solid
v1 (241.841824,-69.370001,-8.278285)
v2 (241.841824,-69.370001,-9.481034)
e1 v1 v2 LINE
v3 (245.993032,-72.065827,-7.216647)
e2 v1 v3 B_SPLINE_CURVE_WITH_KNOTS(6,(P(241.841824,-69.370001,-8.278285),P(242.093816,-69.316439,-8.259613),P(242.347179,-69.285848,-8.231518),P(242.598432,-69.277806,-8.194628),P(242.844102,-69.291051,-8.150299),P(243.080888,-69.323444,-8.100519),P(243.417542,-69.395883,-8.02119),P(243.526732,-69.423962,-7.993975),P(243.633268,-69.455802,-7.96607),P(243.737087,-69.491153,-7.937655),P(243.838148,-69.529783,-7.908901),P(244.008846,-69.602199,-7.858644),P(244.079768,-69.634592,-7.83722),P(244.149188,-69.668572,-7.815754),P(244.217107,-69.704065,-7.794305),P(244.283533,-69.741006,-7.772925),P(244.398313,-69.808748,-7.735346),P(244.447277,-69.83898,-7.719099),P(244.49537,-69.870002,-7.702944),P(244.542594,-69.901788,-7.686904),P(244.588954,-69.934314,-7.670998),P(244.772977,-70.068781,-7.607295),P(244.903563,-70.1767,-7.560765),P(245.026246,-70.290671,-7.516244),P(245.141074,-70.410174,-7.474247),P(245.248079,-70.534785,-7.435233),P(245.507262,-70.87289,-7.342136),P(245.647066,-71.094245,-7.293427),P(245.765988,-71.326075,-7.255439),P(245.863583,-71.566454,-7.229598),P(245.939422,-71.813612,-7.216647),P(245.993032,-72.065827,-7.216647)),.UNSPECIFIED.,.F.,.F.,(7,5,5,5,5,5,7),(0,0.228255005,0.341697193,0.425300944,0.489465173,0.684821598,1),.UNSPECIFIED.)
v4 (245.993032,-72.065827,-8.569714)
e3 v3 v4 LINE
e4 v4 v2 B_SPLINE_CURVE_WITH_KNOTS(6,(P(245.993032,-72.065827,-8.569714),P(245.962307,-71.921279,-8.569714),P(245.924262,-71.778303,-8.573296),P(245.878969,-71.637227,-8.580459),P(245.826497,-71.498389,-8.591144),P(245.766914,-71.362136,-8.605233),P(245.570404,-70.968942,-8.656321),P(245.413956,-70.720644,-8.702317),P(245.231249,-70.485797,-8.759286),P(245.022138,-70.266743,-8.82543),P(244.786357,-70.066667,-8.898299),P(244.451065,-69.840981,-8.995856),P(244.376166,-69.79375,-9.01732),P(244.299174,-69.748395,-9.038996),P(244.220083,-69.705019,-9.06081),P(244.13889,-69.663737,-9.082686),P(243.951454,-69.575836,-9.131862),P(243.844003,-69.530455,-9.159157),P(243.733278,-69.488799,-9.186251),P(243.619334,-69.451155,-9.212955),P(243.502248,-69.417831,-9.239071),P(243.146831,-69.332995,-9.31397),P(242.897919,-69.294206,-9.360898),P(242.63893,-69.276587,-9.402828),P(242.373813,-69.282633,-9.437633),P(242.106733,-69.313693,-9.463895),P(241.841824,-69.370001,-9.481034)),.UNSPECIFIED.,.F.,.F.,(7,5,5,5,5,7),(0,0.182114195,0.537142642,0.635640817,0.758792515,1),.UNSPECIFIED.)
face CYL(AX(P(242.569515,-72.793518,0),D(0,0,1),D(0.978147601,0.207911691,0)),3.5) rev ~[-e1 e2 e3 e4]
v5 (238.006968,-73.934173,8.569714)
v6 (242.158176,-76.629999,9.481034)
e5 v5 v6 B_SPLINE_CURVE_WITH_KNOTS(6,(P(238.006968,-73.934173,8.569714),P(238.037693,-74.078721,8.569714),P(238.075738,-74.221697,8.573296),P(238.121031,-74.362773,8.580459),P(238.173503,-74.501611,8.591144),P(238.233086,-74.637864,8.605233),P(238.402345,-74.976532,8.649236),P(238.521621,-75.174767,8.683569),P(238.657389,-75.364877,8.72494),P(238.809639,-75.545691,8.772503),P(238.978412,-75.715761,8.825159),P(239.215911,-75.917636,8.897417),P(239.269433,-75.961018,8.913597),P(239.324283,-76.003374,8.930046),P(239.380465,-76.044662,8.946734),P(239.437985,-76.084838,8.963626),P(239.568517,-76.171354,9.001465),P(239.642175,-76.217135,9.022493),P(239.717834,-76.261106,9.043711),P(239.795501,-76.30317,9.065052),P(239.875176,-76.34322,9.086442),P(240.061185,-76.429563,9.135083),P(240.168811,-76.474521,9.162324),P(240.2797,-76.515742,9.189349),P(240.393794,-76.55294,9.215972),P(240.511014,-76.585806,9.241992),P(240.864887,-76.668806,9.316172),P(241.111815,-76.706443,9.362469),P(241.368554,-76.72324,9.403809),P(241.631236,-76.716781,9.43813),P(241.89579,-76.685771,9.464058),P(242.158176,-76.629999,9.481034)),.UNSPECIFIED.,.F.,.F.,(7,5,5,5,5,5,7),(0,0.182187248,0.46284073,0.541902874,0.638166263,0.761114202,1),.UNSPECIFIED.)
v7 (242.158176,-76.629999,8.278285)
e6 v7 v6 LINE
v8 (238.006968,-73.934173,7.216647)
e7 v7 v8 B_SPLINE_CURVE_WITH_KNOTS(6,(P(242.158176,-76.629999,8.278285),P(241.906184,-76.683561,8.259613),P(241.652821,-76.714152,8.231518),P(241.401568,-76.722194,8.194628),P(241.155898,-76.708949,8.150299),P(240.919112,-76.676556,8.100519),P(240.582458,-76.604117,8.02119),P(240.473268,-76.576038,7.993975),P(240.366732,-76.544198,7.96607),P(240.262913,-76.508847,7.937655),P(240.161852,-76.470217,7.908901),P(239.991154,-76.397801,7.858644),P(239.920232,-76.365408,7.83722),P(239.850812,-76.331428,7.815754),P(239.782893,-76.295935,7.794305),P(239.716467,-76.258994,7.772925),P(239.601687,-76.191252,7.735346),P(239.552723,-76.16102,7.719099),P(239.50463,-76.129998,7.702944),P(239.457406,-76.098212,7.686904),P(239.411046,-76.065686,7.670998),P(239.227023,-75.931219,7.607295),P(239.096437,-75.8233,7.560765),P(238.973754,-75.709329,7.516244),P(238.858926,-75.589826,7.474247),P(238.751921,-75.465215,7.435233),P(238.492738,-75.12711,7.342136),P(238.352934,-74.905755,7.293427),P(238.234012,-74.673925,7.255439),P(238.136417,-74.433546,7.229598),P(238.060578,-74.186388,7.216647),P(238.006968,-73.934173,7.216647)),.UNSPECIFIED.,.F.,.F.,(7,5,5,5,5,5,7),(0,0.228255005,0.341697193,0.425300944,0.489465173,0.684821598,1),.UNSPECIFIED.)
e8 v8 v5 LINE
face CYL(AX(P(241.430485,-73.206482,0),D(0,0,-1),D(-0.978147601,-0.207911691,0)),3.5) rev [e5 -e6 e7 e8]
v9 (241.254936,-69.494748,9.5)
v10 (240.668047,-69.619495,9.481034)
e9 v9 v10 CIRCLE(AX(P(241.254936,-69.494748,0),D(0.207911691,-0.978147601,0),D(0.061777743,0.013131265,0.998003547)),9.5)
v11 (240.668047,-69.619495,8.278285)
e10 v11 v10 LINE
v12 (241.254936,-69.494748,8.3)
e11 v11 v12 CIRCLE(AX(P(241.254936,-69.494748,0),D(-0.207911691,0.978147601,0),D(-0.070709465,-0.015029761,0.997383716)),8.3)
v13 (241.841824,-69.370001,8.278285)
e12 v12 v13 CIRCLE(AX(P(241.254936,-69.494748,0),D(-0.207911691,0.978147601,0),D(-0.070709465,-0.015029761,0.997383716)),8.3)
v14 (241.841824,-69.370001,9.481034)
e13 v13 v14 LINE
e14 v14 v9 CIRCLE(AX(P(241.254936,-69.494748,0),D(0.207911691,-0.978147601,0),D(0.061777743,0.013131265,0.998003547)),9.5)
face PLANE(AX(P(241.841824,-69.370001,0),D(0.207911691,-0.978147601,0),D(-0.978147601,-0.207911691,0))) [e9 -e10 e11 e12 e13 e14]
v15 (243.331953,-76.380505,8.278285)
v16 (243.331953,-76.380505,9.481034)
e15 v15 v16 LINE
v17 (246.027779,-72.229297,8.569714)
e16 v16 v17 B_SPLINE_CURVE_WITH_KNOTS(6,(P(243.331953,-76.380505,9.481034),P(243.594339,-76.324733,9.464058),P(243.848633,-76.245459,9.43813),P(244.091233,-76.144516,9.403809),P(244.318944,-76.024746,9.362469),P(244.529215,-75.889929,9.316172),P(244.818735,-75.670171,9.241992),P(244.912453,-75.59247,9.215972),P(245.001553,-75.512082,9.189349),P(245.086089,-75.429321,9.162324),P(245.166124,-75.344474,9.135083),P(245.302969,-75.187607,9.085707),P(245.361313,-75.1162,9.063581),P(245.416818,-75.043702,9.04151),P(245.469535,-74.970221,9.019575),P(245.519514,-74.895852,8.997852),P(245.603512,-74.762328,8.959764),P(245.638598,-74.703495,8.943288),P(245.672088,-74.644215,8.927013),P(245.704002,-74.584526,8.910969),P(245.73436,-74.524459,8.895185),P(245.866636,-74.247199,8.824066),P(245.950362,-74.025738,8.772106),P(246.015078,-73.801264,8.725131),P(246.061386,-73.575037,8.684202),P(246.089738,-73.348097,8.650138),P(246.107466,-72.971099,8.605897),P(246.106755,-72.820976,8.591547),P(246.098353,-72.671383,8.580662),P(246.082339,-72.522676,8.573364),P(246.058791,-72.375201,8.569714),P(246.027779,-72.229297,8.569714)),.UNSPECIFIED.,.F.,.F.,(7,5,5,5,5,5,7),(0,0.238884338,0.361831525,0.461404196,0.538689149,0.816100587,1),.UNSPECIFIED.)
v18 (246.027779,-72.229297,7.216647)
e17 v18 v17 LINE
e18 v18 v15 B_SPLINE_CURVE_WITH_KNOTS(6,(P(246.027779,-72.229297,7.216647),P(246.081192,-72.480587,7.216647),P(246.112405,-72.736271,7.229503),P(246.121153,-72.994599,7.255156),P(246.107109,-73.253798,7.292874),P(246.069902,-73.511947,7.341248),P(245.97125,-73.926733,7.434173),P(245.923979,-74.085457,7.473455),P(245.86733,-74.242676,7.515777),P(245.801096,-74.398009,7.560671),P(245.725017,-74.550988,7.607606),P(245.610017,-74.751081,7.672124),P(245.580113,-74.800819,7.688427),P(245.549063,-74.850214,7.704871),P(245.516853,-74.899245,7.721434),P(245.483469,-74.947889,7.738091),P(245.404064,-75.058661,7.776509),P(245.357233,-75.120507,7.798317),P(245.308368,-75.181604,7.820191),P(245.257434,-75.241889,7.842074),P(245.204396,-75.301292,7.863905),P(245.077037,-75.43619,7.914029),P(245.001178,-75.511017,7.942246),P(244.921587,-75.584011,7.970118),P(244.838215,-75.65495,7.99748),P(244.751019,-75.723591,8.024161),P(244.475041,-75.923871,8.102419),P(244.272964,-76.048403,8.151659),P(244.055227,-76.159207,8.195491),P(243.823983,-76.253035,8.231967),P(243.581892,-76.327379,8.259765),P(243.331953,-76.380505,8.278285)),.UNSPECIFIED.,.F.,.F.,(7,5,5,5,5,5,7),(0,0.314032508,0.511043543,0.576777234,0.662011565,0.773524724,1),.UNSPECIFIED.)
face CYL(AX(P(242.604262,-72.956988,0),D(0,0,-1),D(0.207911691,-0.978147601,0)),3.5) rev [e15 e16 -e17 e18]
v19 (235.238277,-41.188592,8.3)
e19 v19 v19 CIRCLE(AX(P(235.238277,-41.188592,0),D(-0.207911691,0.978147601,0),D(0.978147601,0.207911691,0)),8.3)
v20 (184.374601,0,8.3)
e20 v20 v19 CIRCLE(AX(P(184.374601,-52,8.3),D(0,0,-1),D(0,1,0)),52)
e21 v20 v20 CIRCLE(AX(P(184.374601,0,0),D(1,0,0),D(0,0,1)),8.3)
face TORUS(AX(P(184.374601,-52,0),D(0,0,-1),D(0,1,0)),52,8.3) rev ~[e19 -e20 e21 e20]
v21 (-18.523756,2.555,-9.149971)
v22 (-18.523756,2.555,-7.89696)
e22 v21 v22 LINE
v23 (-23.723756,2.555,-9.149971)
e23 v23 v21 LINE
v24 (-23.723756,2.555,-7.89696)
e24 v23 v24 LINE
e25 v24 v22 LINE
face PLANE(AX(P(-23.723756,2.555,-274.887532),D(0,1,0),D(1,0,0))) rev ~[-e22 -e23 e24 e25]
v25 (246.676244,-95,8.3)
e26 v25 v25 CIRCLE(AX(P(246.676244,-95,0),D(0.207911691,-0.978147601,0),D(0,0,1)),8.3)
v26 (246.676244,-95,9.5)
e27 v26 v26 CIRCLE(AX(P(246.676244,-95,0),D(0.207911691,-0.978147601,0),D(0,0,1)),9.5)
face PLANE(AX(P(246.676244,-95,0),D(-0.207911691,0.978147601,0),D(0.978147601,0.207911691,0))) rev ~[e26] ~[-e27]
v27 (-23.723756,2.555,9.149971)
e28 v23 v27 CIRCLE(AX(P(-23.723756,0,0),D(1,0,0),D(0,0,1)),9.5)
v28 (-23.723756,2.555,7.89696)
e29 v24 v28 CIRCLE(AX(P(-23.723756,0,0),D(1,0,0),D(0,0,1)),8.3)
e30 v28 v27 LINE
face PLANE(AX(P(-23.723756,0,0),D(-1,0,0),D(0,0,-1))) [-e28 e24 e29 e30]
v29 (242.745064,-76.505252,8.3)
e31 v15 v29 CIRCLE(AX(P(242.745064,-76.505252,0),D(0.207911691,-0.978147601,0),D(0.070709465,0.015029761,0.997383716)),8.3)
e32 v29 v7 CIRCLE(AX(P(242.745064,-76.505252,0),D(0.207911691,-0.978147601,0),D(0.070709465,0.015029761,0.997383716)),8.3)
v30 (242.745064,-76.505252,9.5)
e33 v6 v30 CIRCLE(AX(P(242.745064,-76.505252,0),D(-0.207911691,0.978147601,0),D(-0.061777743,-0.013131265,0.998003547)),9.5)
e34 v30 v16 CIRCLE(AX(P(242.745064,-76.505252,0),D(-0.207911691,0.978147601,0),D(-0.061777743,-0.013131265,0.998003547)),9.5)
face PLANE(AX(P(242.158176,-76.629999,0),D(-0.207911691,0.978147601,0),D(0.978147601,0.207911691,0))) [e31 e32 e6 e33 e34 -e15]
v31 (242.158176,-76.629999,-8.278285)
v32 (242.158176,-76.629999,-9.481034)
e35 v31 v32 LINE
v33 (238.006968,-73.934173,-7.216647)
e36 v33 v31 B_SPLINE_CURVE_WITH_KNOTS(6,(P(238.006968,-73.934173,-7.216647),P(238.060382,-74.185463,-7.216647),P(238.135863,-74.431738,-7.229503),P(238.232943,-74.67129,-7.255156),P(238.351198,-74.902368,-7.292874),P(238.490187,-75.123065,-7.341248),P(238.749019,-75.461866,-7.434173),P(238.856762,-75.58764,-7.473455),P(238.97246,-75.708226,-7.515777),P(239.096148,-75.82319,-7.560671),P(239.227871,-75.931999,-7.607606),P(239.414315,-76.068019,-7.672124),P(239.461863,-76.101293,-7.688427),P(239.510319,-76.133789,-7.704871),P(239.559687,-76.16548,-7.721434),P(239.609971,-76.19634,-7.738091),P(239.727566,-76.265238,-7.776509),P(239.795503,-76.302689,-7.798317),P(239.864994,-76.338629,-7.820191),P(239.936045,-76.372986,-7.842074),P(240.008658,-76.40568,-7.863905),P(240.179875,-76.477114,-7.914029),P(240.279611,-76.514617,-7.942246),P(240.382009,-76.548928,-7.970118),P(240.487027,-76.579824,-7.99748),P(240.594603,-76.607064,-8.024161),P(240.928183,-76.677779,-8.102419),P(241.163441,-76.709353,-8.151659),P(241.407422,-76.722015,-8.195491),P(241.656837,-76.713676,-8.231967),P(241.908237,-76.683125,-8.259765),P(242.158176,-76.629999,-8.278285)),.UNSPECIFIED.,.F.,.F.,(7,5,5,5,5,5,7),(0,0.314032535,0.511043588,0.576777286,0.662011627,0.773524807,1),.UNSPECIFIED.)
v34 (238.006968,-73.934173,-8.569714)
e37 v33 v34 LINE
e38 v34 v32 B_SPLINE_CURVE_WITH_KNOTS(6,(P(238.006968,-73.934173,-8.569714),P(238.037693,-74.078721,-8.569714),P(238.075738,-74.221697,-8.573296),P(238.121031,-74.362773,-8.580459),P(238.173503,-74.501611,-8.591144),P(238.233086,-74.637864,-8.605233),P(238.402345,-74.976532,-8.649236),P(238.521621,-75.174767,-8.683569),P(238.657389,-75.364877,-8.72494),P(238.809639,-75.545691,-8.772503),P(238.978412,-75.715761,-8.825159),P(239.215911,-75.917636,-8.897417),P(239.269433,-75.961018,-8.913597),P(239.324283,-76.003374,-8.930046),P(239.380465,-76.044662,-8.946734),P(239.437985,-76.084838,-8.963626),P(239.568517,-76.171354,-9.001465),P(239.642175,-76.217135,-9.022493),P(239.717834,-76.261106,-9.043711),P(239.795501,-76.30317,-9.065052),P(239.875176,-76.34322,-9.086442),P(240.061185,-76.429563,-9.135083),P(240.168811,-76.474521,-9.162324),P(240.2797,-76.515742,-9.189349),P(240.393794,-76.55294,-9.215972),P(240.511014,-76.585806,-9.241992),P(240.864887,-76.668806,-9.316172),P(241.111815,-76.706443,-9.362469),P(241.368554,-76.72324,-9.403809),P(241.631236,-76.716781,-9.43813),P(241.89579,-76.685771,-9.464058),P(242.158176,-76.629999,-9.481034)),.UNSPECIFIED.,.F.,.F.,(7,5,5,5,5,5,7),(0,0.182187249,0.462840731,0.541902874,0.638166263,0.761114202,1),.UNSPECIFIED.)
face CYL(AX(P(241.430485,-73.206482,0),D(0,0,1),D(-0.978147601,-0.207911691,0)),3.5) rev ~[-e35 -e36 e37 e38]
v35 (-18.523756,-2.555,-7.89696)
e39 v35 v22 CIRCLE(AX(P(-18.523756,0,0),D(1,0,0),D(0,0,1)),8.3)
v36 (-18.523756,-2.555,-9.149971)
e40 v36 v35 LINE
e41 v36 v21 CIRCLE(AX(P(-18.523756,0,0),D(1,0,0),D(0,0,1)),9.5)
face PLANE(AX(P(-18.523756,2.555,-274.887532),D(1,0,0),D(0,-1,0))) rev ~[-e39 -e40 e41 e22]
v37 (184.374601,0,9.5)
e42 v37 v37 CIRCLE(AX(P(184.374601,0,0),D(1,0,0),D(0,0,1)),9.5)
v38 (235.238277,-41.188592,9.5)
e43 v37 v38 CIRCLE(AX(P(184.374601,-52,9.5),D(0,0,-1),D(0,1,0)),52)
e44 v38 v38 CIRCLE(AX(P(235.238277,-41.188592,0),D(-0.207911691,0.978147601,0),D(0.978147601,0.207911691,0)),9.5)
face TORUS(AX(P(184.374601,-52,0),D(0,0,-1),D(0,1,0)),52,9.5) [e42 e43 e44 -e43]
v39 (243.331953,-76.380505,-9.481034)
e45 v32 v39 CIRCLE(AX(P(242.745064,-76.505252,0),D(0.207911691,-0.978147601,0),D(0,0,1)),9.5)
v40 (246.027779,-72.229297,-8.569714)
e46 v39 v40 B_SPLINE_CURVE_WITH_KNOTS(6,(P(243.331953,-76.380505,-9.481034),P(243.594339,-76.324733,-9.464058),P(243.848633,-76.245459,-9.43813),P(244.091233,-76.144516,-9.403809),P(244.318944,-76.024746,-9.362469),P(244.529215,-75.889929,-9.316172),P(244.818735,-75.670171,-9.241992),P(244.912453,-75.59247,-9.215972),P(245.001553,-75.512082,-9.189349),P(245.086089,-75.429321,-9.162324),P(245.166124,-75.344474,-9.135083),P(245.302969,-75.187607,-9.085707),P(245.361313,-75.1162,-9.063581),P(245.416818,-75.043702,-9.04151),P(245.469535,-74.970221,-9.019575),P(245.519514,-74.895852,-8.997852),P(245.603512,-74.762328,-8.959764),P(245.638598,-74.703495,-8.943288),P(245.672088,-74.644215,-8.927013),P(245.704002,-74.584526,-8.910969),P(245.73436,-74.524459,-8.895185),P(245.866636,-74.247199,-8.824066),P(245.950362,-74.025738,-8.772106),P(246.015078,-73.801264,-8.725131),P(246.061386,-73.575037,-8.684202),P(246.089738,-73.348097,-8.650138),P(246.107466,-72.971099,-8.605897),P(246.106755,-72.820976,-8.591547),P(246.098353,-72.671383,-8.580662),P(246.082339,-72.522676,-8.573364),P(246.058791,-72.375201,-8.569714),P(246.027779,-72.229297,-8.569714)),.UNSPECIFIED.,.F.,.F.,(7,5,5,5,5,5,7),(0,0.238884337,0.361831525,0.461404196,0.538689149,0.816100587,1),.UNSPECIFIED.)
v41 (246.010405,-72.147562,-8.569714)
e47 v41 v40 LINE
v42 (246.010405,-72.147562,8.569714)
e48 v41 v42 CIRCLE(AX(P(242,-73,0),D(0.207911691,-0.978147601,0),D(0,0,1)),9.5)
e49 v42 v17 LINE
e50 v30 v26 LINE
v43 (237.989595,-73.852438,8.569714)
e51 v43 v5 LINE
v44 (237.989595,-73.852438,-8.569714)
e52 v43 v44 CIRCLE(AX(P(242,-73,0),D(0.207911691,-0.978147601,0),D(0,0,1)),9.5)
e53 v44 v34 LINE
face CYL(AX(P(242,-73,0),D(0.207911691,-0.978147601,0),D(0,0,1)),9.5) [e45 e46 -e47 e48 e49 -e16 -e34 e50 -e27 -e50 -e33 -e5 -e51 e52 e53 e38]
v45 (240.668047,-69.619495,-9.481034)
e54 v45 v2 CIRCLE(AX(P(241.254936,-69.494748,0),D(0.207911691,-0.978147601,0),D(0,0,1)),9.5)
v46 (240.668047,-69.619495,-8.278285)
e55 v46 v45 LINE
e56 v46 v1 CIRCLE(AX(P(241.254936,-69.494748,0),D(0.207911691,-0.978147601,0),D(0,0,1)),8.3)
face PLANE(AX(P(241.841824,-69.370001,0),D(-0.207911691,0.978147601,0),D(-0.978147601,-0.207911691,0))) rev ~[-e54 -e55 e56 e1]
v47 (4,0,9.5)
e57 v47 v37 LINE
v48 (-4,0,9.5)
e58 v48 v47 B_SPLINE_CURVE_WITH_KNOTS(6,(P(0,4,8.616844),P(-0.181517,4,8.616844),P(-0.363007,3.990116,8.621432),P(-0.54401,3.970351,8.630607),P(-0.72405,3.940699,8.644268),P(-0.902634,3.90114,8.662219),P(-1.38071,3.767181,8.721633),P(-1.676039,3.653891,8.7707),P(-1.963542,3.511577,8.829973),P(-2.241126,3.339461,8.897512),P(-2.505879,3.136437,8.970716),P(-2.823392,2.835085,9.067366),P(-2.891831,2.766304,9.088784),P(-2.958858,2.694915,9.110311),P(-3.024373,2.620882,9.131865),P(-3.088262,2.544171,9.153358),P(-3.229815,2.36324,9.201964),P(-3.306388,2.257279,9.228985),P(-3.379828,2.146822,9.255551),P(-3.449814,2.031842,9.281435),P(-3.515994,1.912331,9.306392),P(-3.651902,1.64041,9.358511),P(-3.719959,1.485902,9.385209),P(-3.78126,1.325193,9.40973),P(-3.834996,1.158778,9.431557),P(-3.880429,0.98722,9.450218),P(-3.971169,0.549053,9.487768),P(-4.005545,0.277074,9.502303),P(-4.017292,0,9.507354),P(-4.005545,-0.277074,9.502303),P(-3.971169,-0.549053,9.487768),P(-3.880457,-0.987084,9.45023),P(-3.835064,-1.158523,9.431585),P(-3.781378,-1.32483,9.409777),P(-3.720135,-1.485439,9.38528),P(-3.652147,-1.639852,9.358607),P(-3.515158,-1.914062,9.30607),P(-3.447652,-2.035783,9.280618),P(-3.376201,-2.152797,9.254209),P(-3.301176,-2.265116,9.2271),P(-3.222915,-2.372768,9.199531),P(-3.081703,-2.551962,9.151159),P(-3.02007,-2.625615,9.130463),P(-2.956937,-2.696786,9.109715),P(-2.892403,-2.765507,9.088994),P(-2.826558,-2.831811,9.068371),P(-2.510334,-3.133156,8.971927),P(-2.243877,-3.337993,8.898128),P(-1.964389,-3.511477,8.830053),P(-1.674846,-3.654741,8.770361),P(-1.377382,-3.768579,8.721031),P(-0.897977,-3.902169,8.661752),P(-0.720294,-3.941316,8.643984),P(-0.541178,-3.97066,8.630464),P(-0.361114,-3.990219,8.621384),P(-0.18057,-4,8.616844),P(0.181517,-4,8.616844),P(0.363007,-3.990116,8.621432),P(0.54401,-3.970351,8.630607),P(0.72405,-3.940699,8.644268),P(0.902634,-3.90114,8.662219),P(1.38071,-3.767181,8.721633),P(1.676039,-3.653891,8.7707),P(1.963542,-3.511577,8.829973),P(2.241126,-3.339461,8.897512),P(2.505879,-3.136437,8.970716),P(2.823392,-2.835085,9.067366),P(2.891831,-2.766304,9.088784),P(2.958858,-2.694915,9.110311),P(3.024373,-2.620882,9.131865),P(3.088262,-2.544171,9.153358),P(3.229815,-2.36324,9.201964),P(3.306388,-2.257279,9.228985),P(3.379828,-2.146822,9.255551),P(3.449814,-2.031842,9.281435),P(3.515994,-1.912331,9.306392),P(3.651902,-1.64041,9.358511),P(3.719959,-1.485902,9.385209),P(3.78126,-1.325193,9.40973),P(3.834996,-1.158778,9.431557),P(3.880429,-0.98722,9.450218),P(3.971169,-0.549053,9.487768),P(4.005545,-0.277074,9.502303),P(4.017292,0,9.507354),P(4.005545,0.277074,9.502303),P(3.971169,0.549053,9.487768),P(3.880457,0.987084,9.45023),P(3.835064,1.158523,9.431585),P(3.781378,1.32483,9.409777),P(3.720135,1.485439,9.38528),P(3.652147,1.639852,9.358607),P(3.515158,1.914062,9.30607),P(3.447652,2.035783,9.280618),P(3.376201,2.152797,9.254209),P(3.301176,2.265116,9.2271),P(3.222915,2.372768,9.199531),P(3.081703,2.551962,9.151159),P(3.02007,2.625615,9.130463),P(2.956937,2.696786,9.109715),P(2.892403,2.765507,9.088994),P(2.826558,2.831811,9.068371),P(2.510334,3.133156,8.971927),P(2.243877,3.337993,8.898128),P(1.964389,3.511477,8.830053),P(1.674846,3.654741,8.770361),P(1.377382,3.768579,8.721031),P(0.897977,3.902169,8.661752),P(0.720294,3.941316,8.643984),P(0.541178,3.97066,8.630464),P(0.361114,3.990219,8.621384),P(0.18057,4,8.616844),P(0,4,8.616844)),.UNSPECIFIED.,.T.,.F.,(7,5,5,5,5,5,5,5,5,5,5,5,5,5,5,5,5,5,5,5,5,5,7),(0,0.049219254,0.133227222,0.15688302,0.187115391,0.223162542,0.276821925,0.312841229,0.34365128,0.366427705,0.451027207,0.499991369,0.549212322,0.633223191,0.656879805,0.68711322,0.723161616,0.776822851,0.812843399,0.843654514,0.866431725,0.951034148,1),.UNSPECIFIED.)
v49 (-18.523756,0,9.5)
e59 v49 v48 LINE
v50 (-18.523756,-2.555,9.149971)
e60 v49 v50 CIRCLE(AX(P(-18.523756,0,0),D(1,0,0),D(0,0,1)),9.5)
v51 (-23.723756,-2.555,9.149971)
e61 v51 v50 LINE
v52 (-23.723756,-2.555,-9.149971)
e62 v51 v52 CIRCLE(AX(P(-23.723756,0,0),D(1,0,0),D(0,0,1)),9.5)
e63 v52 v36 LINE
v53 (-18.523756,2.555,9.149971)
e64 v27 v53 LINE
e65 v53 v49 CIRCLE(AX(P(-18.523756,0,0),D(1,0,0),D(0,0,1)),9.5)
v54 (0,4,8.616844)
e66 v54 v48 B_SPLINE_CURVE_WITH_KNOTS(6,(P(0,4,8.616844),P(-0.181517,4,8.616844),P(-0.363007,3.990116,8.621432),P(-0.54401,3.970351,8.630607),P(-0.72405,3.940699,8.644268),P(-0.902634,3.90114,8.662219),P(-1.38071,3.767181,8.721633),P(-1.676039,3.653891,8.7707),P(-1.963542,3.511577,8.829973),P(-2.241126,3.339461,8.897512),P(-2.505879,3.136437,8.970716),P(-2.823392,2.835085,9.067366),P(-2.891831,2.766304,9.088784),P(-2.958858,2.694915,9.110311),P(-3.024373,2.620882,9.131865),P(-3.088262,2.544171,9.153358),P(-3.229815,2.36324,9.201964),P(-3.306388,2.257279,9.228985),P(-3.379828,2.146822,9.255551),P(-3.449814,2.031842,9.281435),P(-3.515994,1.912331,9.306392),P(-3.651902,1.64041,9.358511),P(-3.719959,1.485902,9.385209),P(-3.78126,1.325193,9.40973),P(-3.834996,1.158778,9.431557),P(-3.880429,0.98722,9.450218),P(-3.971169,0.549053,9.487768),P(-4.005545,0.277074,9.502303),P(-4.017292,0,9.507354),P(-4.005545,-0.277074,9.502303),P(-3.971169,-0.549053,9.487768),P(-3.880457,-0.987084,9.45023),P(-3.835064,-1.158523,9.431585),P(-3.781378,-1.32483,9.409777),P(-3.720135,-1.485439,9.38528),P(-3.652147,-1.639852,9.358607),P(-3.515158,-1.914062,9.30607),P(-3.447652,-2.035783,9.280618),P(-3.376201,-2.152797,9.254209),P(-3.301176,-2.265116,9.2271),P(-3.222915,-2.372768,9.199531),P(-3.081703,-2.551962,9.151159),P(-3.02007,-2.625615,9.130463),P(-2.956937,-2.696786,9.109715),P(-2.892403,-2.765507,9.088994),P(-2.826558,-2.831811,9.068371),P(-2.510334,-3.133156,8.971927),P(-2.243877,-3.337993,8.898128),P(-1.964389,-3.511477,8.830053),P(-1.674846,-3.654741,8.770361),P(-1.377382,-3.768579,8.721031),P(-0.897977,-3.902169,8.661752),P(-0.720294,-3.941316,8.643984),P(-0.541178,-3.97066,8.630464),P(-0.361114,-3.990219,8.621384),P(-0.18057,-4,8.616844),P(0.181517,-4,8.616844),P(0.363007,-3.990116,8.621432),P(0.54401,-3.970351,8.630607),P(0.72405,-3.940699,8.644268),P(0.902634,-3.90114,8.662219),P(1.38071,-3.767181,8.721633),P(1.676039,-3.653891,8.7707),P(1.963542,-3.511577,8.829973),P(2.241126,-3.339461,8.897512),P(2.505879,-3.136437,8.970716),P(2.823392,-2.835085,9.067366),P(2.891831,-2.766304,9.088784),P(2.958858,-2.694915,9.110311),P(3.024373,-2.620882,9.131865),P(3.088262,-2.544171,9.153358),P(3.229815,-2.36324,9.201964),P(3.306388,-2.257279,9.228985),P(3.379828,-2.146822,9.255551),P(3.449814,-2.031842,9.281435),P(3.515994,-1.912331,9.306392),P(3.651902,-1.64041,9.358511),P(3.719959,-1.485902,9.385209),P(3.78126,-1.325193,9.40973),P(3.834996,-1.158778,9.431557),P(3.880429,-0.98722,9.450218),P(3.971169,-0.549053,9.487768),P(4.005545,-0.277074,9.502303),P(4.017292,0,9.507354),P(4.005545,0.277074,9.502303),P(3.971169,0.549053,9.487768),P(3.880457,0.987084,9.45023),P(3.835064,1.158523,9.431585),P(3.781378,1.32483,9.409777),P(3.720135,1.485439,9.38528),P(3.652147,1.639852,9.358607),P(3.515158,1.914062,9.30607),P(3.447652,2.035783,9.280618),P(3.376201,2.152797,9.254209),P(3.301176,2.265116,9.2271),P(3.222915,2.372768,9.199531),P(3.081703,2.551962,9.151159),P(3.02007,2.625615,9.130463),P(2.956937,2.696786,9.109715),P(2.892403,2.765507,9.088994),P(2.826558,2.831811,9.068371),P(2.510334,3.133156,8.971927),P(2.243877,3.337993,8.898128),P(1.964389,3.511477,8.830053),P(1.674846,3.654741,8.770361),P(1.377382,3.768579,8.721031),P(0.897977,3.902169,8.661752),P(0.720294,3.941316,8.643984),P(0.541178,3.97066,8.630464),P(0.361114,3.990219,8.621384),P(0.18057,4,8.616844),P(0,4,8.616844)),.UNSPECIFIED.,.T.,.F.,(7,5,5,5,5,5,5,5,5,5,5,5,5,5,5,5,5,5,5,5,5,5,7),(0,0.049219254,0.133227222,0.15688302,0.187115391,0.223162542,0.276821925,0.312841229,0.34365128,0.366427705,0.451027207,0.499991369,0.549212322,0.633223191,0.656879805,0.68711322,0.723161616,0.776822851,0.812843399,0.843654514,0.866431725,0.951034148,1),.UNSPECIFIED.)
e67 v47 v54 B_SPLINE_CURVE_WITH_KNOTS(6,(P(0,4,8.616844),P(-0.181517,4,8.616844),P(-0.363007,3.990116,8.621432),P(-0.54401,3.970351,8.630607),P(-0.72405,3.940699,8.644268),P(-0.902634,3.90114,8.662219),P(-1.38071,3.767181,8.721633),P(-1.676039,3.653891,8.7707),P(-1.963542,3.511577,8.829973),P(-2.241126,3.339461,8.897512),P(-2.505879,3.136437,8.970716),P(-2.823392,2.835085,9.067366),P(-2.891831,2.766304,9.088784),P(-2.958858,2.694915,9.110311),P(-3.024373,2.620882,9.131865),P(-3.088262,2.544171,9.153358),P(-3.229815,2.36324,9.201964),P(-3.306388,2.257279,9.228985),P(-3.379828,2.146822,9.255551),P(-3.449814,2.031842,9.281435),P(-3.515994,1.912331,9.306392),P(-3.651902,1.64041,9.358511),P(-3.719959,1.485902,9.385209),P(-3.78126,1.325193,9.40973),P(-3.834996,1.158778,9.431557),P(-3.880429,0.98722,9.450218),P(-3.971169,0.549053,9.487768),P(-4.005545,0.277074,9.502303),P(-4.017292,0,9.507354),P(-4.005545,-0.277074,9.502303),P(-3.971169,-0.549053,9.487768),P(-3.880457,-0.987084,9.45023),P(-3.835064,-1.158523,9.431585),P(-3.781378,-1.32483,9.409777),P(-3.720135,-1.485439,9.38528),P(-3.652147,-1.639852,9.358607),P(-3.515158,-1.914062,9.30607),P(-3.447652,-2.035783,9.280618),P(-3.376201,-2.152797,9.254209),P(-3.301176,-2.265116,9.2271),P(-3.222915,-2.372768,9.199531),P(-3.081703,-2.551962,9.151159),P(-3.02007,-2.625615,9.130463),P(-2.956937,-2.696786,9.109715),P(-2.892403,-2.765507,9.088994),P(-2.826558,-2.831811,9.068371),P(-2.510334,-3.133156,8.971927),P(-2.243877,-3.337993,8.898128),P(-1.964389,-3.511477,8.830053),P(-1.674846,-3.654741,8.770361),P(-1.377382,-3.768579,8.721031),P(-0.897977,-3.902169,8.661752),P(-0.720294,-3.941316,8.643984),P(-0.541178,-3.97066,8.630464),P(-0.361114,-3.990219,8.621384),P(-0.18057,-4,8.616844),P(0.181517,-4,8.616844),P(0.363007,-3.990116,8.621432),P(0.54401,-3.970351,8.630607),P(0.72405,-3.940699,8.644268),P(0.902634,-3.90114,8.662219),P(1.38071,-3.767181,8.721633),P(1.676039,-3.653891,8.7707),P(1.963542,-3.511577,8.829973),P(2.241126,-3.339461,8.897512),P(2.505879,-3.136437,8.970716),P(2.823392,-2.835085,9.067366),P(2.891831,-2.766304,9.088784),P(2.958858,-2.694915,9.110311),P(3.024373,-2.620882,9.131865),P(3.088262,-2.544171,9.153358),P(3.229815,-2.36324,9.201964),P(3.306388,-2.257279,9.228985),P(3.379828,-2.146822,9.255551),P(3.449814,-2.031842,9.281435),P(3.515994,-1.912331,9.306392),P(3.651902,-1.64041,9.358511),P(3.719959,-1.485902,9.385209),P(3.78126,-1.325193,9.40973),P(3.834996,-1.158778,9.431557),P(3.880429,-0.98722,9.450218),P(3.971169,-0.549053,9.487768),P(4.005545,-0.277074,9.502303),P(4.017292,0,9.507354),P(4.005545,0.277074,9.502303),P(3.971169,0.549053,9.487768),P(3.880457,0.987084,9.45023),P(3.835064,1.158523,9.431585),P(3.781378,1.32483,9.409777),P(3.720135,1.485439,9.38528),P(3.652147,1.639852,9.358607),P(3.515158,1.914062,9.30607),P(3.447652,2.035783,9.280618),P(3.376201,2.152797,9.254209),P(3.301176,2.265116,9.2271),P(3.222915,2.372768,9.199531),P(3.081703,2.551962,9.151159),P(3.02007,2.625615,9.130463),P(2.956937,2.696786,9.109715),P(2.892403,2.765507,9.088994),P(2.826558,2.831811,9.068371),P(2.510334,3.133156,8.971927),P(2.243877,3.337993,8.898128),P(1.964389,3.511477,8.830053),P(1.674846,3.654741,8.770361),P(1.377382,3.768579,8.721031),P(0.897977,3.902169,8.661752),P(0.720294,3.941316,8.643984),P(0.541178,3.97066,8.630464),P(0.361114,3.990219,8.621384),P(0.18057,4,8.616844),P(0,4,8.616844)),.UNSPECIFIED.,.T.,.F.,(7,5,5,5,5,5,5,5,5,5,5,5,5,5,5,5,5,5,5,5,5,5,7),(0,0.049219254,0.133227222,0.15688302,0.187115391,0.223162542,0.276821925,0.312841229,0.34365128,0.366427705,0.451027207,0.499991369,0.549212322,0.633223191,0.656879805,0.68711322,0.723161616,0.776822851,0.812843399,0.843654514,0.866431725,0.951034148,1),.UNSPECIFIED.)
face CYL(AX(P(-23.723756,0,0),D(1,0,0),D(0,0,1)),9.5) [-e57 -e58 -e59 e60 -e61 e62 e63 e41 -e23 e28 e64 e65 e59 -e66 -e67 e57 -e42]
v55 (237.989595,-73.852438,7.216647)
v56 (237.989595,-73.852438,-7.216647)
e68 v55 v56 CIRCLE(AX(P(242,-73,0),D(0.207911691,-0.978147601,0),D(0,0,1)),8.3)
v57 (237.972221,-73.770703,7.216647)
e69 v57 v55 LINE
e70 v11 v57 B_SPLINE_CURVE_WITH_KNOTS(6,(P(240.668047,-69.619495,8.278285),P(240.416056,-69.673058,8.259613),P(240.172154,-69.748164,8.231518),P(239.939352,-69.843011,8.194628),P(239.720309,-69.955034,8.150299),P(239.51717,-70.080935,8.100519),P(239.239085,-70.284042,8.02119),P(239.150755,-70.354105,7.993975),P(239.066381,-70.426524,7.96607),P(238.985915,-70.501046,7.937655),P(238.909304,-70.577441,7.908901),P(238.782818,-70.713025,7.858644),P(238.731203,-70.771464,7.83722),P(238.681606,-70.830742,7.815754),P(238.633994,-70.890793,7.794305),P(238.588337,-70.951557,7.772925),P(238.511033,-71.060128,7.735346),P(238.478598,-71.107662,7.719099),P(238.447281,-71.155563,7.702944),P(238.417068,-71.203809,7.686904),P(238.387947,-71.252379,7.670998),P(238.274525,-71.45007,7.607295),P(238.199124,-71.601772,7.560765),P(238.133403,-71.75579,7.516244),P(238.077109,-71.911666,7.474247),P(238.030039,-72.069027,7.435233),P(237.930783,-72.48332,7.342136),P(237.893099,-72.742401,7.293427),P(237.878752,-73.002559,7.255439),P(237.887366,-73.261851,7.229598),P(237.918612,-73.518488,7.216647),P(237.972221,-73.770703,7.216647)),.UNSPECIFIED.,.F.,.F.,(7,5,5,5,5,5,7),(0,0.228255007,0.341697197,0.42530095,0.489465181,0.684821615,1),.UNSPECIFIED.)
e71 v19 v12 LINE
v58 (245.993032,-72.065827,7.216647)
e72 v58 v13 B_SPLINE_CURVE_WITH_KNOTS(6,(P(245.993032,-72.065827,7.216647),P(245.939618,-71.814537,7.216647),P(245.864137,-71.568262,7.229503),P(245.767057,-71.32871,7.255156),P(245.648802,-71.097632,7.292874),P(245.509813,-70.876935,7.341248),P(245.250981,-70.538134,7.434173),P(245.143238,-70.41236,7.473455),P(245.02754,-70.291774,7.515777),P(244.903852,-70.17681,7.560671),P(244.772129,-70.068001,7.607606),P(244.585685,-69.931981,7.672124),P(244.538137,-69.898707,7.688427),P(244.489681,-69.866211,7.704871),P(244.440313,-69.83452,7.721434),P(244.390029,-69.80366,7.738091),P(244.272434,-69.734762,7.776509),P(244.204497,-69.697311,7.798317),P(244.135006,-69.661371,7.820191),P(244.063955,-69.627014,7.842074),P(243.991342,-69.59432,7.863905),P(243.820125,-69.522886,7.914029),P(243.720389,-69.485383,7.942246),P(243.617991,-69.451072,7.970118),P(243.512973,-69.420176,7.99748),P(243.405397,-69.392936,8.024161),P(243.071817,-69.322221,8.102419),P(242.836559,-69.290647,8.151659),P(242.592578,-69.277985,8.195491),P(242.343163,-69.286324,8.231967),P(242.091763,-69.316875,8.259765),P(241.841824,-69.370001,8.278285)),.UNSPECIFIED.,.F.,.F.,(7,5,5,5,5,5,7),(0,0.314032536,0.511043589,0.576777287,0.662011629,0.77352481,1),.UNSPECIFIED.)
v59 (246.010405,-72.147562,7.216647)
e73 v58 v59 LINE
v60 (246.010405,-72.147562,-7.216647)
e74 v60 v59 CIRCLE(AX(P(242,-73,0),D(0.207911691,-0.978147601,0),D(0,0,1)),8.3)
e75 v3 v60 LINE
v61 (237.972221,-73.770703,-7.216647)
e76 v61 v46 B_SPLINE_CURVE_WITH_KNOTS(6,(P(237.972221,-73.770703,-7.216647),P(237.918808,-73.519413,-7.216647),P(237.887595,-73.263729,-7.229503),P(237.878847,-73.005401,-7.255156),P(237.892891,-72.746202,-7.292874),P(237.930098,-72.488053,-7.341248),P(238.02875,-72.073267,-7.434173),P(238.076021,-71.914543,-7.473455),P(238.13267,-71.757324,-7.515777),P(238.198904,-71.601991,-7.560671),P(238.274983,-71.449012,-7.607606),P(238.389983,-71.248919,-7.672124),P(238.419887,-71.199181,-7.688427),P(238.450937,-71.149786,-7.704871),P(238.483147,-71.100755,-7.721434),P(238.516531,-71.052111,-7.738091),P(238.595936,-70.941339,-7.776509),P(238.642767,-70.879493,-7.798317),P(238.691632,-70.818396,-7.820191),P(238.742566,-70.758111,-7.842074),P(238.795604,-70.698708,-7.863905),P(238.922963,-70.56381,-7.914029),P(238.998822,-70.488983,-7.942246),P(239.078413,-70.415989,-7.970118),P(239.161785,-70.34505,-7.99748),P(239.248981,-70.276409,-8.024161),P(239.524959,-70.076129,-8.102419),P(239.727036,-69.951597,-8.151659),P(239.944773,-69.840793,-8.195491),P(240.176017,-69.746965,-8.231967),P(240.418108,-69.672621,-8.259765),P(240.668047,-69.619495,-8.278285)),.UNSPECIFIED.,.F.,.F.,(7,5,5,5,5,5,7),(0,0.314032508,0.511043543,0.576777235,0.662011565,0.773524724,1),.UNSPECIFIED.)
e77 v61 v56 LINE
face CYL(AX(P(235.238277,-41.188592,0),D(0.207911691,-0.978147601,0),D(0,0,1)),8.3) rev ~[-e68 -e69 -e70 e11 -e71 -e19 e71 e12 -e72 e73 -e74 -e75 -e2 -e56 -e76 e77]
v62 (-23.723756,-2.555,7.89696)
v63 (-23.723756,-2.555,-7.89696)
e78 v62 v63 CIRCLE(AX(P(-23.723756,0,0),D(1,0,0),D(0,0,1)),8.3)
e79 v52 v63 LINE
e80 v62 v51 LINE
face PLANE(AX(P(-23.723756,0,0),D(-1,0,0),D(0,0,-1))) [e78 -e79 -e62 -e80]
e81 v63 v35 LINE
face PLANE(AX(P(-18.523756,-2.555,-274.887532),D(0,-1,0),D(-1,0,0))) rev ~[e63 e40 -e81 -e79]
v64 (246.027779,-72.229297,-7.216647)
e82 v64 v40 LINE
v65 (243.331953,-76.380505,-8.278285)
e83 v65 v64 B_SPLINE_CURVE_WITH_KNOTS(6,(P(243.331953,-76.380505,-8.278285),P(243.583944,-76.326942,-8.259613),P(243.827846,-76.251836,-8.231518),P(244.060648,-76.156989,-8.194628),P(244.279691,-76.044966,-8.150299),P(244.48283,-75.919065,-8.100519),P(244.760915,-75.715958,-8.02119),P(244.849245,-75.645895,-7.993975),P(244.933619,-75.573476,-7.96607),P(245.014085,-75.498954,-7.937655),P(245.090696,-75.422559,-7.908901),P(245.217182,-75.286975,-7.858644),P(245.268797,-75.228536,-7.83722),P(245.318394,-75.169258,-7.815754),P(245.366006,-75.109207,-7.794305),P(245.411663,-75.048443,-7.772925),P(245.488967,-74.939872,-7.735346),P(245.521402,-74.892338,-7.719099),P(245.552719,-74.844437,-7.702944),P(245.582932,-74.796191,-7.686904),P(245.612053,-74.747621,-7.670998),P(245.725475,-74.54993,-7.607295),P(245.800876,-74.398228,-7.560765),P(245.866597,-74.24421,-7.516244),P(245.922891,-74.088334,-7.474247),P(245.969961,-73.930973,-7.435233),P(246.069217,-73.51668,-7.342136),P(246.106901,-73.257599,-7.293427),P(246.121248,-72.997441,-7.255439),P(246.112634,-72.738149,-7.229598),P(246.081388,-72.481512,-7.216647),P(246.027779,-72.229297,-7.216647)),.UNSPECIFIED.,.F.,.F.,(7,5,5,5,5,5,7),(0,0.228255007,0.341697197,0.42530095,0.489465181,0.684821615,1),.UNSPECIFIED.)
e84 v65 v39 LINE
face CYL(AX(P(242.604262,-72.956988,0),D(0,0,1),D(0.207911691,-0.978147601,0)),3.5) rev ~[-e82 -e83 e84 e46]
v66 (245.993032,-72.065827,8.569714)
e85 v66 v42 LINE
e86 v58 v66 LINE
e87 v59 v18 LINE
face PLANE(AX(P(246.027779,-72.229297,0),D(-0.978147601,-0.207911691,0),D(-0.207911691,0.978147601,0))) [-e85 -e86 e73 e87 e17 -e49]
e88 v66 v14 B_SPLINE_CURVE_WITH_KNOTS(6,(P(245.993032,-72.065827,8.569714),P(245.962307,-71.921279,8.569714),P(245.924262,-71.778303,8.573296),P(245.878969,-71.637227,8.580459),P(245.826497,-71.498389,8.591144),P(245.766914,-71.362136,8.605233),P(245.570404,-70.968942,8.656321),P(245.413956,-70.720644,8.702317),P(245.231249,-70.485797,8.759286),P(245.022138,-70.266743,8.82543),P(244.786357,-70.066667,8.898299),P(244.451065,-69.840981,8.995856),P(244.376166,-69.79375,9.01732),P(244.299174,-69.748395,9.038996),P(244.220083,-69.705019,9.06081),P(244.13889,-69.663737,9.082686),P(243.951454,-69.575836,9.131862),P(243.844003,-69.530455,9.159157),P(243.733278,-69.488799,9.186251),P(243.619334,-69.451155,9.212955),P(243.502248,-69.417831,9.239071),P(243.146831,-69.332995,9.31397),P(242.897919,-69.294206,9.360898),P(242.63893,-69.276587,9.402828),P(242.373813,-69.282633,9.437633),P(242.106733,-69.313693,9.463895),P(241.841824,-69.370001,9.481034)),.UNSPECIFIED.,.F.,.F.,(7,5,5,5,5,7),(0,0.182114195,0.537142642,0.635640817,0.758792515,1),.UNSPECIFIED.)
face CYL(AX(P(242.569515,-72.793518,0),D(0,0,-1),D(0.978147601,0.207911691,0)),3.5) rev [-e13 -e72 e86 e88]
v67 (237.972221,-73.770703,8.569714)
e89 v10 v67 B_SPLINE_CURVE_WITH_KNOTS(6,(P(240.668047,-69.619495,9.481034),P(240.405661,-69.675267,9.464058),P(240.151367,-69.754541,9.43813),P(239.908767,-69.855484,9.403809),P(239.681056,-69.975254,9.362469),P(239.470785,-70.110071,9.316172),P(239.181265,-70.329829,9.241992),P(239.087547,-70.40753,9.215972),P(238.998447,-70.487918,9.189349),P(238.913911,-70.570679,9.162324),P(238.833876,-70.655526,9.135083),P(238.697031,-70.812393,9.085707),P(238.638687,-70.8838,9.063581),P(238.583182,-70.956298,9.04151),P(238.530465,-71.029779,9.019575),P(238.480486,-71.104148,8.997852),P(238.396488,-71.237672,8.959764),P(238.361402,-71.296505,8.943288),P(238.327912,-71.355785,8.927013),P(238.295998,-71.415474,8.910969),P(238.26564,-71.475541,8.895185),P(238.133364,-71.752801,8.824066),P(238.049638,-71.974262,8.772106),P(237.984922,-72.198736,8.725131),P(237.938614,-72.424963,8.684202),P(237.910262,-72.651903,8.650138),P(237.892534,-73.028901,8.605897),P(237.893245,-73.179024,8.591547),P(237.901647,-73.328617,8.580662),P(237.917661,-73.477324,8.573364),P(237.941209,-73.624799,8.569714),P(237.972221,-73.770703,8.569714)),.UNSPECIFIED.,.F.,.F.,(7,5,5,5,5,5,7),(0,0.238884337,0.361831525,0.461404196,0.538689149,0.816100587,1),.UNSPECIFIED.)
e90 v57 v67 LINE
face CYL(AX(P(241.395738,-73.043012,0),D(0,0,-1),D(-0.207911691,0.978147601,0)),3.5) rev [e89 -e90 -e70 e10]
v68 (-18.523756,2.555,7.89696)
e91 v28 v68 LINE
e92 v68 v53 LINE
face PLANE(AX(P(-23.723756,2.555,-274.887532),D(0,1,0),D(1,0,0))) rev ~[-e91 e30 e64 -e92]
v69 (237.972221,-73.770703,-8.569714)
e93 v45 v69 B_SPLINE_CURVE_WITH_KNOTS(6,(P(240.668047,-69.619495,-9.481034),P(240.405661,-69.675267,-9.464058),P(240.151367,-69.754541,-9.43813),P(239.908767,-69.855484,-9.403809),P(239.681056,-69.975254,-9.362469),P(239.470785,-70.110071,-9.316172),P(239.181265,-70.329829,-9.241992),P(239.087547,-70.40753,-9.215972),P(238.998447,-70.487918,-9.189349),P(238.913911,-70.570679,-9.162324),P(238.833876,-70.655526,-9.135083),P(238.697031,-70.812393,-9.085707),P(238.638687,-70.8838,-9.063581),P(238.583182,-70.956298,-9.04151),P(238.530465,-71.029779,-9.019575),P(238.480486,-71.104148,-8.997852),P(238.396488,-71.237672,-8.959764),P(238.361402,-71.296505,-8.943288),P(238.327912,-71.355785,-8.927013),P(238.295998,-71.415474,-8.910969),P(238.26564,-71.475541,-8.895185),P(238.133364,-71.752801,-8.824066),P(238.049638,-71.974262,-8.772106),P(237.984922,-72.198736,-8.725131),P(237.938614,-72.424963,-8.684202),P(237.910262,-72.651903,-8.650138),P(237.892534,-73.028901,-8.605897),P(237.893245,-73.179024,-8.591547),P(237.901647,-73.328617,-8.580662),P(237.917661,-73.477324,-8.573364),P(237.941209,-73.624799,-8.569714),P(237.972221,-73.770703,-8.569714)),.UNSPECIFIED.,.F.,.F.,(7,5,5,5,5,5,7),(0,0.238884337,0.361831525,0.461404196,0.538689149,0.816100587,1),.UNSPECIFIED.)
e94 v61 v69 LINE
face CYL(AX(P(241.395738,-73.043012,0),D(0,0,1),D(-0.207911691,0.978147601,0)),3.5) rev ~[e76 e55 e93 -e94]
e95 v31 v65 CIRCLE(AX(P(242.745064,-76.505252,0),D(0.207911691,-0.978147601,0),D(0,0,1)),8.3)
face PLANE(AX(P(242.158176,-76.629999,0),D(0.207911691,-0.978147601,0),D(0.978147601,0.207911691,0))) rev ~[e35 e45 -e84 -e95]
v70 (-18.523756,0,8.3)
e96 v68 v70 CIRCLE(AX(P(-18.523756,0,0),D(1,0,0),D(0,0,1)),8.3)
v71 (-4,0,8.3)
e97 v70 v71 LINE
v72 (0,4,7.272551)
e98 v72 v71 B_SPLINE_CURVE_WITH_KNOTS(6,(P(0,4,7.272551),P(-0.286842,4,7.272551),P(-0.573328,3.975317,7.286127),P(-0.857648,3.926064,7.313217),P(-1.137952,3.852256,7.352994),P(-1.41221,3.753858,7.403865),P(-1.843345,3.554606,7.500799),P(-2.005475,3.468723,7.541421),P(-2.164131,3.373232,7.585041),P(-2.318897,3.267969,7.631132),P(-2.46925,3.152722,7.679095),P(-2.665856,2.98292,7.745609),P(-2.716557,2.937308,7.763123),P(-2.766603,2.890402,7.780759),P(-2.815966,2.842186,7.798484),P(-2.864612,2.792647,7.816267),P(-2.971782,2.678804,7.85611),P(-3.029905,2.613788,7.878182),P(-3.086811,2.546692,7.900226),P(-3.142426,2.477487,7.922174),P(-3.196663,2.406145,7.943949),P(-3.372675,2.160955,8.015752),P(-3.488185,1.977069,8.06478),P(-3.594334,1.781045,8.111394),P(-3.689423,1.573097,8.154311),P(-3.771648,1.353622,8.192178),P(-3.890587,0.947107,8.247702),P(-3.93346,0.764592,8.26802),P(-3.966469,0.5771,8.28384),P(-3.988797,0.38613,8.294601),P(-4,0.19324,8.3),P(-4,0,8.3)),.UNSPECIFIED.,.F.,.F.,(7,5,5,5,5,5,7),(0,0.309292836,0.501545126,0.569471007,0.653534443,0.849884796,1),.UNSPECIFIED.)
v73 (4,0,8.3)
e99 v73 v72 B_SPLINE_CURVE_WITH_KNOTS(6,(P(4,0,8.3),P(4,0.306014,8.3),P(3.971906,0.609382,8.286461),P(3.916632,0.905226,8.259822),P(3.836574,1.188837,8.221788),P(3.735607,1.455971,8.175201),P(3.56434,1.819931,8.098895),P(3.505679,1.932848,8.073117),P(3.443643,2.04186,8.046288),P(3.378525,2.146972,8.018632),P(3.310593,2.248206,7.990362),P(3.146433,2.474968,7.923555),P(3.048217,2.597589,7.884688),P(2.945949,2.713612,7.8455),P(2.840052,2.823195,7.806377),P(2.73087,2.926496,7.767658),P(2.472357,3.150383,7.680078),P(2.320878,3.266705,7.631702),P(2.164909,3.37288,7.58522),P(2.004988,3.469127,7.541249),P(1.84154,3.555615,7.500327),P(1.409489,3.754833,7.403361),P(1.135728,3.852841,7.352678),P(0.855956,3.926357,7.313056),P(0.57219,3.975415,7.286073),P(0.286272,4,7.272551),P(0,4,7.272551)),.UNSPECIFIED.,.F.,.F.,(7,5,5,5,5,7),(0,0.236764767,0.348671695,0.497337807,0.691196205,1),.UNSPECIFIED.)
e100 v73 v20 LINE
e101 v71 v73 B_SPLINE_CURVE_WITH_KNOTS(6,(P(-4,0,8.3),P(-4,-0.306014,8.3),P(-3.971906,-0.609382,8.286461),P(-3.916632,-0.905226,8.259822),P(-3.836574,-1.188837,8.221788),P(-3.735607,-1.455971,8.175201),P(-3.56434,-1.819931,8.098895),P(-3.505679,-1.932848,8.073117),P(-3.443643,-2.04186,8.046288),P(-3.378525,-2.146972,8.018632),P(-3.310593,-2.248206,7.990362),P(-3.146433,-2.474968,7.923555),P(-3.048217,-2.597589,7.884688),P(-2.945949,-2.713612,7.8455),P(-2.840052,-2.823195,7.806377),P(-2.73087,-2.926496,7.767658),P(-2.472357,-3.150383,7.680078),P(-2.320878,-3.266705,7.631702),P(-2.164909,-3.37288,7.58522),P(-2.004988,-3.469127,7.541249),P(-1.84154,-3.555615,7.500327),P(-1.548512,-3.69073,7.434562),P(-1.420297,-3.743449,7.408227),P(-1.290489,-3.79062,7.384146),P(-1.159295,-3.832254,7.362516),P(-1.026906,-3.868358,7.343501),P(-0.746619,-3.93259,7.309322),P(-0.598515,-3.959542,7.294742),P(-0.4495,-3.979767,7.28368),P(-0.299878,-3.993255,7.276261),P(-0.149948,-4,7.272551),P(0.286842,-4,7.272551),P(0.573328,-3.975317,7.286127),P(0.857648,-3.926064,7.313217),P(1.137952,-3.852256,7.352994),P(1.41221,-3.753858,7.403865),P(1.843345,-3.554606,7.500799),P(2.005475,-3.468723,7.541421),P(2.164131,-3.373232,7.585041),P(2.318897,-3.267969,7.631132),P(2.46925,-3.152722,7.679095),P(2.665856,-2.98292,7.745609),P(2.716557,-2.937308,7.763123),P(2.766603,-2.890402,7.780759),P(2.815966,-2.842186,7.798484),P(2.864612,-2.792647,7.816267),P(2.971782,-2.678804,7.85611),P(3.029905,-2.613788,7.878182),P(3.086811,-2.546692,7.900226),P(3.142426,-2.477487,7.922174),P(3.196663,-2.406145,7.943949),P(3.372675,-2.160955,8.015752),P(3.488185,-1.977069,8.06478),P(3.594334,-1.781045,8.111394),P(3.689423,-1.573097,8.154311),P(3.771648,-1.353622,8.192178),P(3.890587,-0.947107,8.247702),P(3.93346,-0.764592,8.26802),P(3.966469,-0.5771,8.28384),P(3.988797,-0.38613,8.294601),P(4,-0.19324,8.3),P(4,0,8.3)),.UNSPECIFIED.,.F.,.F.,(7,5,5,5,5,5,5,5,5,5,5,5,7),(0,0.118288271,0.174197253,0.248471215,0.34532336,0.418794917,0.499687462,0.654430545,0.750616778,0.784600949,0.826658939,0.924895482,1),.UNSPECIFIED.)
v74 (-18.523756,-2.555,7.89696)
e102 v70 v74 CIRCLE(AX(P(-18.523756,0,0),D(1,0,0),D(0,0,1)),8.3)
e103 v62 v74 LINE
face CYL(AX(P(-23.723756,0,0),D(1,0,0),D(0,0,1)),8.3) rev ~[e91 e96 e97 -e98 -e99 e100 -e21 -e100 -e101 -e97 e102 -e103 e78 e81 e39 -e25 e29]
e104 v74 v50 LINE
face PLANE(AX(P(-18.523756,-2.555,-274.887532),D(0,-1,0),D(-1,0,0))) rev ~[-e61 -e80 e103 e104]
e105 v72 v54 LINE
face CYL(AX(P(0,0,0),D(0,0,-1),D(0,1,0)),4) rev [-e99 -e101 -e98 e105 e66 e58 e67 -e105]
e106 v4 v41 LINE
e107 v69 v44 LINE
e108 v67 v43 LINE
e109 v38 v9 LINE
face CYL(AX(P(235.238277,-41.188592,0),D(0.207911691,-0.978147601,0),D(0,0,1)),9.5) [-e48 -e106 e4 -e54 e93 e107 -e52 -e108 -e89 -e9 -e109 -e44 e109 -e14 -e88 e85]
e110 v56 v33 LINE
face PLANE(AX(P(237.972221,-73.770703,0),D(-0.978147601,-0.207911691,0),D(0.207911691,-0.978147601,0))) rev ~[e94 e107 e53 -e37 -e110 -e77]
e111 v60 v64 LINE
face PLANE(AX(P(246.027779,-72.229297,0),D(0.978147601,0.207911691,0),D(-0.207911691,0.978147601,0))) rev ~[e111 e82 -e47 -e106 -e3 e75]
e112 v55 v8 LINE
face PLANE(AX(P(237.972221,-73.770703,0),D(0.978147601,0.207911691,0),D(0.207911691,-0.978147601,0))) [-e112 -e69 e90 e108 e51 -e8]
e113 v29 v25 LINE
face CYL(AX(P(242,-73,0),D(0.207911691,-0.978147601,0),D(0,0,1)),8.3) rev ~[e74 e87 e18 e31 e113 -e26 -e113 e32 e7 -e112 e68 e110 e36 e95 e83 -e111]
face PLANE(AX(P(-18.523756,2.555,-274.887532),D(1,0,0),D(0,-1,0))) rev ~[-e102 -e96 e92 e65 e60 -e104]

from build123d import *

# Parameters (mm, degrees)
SKETCH2_R                      = 9.5
SKETCH2_R_2                    = 8.3
CUT_EXTRUDE1_REACH             = 275.888
CUT_EXTRUDE1_DIRECTION_2_REACH = 275.888
CUT_EXTRUDE2_REACH             = 275.888
CUT_EXTRUDE2_END_RADIUS        = 9.5
SKETCH4_R                      = 4
CUT_EXTRUDE3_DEPTH             = 274.887531588
CUT_EXTRUDE3_DEPTH_BACK        = 274.887531588


with BuildPart() as part:
    # Sweep1: sweep along a path in Sketch1
    with BuildLine(Plane.XY) as sweep1_path:
        Line((-23.723755643, 0), (0, 0))
        Line((0, 0), (184.374601272, 0))
        ThreePointArc((184.374601272, 0), (217.099261607, -11.588410004), (235.23827651, -41.188592077))
        Line((235.23827651, -41.188592077), (242, -73))
        Line((242, -73), (246.676244357, -95))
    # Sketch2 → Sweep1 (sweep)
    with BuildSketch(Plane.ZY.offset(23.723755643)):
        Circle(SKETCH2_R)
        Circle(SKETCH2_R_2, mode=Mode.SUBTRACT)
    sweep(path=sweep1_path.line)

    # Sketch3 → Cut-Extrude1 (cut, up to next)
    with BuildSketch(Plane.XY, mode=Mode.PRIVATE) as cut_extrude1_sk1:
        with BuildLine():
            Line((246.027778512, -72.229297246), (245.993031815, -72.065826889))
            ThreePointArc((245.993031815, -72.065826889), (244.475751834, -69.858170819), (241.841824294, -69.370001204))
            Line((241.841824294, -69.370001204), (240.668047173, -69.619495233))
            ThreePointArc((240.668047173, -69.619495233), (238.460391103, -71.136775213), (237.972221488, -73.770702754))
            Line((237.972221488, -73.770702754), (238.006968185, -73.934173111))
            ThreePointArc((238.006968185, -73.934173111), (239.524248166, -76.141829181), (242.158175706, -76.629998796))
            Line((242.158175706, -76.629998796), (243.331952827, -76.380504767))
            ThreePointArc((243.331952827, -76.380504767), (245.539608897, -74.863224787), (246.027778512, -72.229297246))
        make_face()
    cut_extrude1_tool1 = extrude(cut_extrude1_sk1.sketch, amount=-CUT_EXTRUDE1_REACH, mode=Mode.PRIVATE) & part.part
    add(cut_extrude1_tool1.solids().sort_by_distance((242, -73, 0))[0], mode=Mode.SUBTRACT)

    # Sketch3 → Cut-Extrude1 direction 2 (cut, up to next)
    with BuildSketch(Plane.XY, mode=Mode.PRIVATE) as cut_extrude1_direction_2_sk1:
        with BuildLine():
            Line((246.027778512, -72.229297246), (245.993031815, -72.065826889))
            ThreePointArc((245.993031815, -72.065826889), (244.475751834, -69.858170819), (241.841824294, -69.370001204))
            Line((241.841824294, -69.370001204), (240.668047173, -69.619495233))
            ThreePointArc((240.668047173, -69.619495233), (238.460391103, -71.136775213), (237.972221488, -73.770702754))
            Line((237.972221488, -73.770702754), (238.006968185, -73.934173111))
            ThreePointArc((238.006968185, -73.934173111), (239.524248166, -76.141829181), (242.158175706, -76.629998796))
            Line((242.158175706, -76.629998796), (243.331952827, -76.380504767))
            ThreePointArc((243.331952827, -76.380504767), (245.539608897, -74.863224787), (246.027778512, -72.229297246))
        make_face()
    cut_extrude1_direction_2_tool1 = extrude(cut_extrude1_direction_2_sk1.sketch, amount=CUT_EXTRUDE1_DIRECTION_2_REACH, mode=Mode.PRIVATE) & part.part
    add(cut_extrude1_direction_2_tool1.solids().sort_by_distance((242, -73, 0))[0], mode=Mode.SUBTRACT)

    # Cut-Extrude2: up to this cylinder (the profile starts inside it)
    cut_extrude2_end = Plane(origin=(0, 0, 0), z_dir=(-1, 0, 0)) * Cylinder(CUT_EXTRUDE2_END_RADIUS, 571.776, mode=Mode.PRIVATE)
    # Sketch4 → Cut-Extrude2 (cut, up to the surface)
    with BuildSketch(Plane.XY, mode=Mode.PRIVATE) as cut_extrude2_sk1:
        with Locations(Location((0, 0, 0), (0, 0, 90))):
            Circle(SKETCH4_R)
    cut_extrude2_tool1 = extrude(cut_extrude2_sk1.sketch, amount=CUT_EXTRUDE2_REACH, mode=Mode.PRIVATE) & cut_extrude2_end
    add(cut_extrude2_tool1.solids().sort_by_distance((0, 0, 0))[0], mode=Mode.SUBTRACT)

    # Sketch5 → Cut-Extrude3 (cut, two sides: drawn at the far end of the back side and taken through both)
    with BuildSketch(Plane.XY.offset(-CUT_EXTRUDE3_DEPTH_BACK)):
        Polygon((-23.723755643, 0), (-23.723755643, 2.555), (-18.523755643, 2.555), (-18.523755643, -2.555), (-23.723755643, -2.555), align=None)
    extrude(amount=CUT_EXTRUDE3_DEPTH + CUT_EXTRUDE3_DEPTH_BACK, mode=Mode.SUBTRACT)


solid = part.part
